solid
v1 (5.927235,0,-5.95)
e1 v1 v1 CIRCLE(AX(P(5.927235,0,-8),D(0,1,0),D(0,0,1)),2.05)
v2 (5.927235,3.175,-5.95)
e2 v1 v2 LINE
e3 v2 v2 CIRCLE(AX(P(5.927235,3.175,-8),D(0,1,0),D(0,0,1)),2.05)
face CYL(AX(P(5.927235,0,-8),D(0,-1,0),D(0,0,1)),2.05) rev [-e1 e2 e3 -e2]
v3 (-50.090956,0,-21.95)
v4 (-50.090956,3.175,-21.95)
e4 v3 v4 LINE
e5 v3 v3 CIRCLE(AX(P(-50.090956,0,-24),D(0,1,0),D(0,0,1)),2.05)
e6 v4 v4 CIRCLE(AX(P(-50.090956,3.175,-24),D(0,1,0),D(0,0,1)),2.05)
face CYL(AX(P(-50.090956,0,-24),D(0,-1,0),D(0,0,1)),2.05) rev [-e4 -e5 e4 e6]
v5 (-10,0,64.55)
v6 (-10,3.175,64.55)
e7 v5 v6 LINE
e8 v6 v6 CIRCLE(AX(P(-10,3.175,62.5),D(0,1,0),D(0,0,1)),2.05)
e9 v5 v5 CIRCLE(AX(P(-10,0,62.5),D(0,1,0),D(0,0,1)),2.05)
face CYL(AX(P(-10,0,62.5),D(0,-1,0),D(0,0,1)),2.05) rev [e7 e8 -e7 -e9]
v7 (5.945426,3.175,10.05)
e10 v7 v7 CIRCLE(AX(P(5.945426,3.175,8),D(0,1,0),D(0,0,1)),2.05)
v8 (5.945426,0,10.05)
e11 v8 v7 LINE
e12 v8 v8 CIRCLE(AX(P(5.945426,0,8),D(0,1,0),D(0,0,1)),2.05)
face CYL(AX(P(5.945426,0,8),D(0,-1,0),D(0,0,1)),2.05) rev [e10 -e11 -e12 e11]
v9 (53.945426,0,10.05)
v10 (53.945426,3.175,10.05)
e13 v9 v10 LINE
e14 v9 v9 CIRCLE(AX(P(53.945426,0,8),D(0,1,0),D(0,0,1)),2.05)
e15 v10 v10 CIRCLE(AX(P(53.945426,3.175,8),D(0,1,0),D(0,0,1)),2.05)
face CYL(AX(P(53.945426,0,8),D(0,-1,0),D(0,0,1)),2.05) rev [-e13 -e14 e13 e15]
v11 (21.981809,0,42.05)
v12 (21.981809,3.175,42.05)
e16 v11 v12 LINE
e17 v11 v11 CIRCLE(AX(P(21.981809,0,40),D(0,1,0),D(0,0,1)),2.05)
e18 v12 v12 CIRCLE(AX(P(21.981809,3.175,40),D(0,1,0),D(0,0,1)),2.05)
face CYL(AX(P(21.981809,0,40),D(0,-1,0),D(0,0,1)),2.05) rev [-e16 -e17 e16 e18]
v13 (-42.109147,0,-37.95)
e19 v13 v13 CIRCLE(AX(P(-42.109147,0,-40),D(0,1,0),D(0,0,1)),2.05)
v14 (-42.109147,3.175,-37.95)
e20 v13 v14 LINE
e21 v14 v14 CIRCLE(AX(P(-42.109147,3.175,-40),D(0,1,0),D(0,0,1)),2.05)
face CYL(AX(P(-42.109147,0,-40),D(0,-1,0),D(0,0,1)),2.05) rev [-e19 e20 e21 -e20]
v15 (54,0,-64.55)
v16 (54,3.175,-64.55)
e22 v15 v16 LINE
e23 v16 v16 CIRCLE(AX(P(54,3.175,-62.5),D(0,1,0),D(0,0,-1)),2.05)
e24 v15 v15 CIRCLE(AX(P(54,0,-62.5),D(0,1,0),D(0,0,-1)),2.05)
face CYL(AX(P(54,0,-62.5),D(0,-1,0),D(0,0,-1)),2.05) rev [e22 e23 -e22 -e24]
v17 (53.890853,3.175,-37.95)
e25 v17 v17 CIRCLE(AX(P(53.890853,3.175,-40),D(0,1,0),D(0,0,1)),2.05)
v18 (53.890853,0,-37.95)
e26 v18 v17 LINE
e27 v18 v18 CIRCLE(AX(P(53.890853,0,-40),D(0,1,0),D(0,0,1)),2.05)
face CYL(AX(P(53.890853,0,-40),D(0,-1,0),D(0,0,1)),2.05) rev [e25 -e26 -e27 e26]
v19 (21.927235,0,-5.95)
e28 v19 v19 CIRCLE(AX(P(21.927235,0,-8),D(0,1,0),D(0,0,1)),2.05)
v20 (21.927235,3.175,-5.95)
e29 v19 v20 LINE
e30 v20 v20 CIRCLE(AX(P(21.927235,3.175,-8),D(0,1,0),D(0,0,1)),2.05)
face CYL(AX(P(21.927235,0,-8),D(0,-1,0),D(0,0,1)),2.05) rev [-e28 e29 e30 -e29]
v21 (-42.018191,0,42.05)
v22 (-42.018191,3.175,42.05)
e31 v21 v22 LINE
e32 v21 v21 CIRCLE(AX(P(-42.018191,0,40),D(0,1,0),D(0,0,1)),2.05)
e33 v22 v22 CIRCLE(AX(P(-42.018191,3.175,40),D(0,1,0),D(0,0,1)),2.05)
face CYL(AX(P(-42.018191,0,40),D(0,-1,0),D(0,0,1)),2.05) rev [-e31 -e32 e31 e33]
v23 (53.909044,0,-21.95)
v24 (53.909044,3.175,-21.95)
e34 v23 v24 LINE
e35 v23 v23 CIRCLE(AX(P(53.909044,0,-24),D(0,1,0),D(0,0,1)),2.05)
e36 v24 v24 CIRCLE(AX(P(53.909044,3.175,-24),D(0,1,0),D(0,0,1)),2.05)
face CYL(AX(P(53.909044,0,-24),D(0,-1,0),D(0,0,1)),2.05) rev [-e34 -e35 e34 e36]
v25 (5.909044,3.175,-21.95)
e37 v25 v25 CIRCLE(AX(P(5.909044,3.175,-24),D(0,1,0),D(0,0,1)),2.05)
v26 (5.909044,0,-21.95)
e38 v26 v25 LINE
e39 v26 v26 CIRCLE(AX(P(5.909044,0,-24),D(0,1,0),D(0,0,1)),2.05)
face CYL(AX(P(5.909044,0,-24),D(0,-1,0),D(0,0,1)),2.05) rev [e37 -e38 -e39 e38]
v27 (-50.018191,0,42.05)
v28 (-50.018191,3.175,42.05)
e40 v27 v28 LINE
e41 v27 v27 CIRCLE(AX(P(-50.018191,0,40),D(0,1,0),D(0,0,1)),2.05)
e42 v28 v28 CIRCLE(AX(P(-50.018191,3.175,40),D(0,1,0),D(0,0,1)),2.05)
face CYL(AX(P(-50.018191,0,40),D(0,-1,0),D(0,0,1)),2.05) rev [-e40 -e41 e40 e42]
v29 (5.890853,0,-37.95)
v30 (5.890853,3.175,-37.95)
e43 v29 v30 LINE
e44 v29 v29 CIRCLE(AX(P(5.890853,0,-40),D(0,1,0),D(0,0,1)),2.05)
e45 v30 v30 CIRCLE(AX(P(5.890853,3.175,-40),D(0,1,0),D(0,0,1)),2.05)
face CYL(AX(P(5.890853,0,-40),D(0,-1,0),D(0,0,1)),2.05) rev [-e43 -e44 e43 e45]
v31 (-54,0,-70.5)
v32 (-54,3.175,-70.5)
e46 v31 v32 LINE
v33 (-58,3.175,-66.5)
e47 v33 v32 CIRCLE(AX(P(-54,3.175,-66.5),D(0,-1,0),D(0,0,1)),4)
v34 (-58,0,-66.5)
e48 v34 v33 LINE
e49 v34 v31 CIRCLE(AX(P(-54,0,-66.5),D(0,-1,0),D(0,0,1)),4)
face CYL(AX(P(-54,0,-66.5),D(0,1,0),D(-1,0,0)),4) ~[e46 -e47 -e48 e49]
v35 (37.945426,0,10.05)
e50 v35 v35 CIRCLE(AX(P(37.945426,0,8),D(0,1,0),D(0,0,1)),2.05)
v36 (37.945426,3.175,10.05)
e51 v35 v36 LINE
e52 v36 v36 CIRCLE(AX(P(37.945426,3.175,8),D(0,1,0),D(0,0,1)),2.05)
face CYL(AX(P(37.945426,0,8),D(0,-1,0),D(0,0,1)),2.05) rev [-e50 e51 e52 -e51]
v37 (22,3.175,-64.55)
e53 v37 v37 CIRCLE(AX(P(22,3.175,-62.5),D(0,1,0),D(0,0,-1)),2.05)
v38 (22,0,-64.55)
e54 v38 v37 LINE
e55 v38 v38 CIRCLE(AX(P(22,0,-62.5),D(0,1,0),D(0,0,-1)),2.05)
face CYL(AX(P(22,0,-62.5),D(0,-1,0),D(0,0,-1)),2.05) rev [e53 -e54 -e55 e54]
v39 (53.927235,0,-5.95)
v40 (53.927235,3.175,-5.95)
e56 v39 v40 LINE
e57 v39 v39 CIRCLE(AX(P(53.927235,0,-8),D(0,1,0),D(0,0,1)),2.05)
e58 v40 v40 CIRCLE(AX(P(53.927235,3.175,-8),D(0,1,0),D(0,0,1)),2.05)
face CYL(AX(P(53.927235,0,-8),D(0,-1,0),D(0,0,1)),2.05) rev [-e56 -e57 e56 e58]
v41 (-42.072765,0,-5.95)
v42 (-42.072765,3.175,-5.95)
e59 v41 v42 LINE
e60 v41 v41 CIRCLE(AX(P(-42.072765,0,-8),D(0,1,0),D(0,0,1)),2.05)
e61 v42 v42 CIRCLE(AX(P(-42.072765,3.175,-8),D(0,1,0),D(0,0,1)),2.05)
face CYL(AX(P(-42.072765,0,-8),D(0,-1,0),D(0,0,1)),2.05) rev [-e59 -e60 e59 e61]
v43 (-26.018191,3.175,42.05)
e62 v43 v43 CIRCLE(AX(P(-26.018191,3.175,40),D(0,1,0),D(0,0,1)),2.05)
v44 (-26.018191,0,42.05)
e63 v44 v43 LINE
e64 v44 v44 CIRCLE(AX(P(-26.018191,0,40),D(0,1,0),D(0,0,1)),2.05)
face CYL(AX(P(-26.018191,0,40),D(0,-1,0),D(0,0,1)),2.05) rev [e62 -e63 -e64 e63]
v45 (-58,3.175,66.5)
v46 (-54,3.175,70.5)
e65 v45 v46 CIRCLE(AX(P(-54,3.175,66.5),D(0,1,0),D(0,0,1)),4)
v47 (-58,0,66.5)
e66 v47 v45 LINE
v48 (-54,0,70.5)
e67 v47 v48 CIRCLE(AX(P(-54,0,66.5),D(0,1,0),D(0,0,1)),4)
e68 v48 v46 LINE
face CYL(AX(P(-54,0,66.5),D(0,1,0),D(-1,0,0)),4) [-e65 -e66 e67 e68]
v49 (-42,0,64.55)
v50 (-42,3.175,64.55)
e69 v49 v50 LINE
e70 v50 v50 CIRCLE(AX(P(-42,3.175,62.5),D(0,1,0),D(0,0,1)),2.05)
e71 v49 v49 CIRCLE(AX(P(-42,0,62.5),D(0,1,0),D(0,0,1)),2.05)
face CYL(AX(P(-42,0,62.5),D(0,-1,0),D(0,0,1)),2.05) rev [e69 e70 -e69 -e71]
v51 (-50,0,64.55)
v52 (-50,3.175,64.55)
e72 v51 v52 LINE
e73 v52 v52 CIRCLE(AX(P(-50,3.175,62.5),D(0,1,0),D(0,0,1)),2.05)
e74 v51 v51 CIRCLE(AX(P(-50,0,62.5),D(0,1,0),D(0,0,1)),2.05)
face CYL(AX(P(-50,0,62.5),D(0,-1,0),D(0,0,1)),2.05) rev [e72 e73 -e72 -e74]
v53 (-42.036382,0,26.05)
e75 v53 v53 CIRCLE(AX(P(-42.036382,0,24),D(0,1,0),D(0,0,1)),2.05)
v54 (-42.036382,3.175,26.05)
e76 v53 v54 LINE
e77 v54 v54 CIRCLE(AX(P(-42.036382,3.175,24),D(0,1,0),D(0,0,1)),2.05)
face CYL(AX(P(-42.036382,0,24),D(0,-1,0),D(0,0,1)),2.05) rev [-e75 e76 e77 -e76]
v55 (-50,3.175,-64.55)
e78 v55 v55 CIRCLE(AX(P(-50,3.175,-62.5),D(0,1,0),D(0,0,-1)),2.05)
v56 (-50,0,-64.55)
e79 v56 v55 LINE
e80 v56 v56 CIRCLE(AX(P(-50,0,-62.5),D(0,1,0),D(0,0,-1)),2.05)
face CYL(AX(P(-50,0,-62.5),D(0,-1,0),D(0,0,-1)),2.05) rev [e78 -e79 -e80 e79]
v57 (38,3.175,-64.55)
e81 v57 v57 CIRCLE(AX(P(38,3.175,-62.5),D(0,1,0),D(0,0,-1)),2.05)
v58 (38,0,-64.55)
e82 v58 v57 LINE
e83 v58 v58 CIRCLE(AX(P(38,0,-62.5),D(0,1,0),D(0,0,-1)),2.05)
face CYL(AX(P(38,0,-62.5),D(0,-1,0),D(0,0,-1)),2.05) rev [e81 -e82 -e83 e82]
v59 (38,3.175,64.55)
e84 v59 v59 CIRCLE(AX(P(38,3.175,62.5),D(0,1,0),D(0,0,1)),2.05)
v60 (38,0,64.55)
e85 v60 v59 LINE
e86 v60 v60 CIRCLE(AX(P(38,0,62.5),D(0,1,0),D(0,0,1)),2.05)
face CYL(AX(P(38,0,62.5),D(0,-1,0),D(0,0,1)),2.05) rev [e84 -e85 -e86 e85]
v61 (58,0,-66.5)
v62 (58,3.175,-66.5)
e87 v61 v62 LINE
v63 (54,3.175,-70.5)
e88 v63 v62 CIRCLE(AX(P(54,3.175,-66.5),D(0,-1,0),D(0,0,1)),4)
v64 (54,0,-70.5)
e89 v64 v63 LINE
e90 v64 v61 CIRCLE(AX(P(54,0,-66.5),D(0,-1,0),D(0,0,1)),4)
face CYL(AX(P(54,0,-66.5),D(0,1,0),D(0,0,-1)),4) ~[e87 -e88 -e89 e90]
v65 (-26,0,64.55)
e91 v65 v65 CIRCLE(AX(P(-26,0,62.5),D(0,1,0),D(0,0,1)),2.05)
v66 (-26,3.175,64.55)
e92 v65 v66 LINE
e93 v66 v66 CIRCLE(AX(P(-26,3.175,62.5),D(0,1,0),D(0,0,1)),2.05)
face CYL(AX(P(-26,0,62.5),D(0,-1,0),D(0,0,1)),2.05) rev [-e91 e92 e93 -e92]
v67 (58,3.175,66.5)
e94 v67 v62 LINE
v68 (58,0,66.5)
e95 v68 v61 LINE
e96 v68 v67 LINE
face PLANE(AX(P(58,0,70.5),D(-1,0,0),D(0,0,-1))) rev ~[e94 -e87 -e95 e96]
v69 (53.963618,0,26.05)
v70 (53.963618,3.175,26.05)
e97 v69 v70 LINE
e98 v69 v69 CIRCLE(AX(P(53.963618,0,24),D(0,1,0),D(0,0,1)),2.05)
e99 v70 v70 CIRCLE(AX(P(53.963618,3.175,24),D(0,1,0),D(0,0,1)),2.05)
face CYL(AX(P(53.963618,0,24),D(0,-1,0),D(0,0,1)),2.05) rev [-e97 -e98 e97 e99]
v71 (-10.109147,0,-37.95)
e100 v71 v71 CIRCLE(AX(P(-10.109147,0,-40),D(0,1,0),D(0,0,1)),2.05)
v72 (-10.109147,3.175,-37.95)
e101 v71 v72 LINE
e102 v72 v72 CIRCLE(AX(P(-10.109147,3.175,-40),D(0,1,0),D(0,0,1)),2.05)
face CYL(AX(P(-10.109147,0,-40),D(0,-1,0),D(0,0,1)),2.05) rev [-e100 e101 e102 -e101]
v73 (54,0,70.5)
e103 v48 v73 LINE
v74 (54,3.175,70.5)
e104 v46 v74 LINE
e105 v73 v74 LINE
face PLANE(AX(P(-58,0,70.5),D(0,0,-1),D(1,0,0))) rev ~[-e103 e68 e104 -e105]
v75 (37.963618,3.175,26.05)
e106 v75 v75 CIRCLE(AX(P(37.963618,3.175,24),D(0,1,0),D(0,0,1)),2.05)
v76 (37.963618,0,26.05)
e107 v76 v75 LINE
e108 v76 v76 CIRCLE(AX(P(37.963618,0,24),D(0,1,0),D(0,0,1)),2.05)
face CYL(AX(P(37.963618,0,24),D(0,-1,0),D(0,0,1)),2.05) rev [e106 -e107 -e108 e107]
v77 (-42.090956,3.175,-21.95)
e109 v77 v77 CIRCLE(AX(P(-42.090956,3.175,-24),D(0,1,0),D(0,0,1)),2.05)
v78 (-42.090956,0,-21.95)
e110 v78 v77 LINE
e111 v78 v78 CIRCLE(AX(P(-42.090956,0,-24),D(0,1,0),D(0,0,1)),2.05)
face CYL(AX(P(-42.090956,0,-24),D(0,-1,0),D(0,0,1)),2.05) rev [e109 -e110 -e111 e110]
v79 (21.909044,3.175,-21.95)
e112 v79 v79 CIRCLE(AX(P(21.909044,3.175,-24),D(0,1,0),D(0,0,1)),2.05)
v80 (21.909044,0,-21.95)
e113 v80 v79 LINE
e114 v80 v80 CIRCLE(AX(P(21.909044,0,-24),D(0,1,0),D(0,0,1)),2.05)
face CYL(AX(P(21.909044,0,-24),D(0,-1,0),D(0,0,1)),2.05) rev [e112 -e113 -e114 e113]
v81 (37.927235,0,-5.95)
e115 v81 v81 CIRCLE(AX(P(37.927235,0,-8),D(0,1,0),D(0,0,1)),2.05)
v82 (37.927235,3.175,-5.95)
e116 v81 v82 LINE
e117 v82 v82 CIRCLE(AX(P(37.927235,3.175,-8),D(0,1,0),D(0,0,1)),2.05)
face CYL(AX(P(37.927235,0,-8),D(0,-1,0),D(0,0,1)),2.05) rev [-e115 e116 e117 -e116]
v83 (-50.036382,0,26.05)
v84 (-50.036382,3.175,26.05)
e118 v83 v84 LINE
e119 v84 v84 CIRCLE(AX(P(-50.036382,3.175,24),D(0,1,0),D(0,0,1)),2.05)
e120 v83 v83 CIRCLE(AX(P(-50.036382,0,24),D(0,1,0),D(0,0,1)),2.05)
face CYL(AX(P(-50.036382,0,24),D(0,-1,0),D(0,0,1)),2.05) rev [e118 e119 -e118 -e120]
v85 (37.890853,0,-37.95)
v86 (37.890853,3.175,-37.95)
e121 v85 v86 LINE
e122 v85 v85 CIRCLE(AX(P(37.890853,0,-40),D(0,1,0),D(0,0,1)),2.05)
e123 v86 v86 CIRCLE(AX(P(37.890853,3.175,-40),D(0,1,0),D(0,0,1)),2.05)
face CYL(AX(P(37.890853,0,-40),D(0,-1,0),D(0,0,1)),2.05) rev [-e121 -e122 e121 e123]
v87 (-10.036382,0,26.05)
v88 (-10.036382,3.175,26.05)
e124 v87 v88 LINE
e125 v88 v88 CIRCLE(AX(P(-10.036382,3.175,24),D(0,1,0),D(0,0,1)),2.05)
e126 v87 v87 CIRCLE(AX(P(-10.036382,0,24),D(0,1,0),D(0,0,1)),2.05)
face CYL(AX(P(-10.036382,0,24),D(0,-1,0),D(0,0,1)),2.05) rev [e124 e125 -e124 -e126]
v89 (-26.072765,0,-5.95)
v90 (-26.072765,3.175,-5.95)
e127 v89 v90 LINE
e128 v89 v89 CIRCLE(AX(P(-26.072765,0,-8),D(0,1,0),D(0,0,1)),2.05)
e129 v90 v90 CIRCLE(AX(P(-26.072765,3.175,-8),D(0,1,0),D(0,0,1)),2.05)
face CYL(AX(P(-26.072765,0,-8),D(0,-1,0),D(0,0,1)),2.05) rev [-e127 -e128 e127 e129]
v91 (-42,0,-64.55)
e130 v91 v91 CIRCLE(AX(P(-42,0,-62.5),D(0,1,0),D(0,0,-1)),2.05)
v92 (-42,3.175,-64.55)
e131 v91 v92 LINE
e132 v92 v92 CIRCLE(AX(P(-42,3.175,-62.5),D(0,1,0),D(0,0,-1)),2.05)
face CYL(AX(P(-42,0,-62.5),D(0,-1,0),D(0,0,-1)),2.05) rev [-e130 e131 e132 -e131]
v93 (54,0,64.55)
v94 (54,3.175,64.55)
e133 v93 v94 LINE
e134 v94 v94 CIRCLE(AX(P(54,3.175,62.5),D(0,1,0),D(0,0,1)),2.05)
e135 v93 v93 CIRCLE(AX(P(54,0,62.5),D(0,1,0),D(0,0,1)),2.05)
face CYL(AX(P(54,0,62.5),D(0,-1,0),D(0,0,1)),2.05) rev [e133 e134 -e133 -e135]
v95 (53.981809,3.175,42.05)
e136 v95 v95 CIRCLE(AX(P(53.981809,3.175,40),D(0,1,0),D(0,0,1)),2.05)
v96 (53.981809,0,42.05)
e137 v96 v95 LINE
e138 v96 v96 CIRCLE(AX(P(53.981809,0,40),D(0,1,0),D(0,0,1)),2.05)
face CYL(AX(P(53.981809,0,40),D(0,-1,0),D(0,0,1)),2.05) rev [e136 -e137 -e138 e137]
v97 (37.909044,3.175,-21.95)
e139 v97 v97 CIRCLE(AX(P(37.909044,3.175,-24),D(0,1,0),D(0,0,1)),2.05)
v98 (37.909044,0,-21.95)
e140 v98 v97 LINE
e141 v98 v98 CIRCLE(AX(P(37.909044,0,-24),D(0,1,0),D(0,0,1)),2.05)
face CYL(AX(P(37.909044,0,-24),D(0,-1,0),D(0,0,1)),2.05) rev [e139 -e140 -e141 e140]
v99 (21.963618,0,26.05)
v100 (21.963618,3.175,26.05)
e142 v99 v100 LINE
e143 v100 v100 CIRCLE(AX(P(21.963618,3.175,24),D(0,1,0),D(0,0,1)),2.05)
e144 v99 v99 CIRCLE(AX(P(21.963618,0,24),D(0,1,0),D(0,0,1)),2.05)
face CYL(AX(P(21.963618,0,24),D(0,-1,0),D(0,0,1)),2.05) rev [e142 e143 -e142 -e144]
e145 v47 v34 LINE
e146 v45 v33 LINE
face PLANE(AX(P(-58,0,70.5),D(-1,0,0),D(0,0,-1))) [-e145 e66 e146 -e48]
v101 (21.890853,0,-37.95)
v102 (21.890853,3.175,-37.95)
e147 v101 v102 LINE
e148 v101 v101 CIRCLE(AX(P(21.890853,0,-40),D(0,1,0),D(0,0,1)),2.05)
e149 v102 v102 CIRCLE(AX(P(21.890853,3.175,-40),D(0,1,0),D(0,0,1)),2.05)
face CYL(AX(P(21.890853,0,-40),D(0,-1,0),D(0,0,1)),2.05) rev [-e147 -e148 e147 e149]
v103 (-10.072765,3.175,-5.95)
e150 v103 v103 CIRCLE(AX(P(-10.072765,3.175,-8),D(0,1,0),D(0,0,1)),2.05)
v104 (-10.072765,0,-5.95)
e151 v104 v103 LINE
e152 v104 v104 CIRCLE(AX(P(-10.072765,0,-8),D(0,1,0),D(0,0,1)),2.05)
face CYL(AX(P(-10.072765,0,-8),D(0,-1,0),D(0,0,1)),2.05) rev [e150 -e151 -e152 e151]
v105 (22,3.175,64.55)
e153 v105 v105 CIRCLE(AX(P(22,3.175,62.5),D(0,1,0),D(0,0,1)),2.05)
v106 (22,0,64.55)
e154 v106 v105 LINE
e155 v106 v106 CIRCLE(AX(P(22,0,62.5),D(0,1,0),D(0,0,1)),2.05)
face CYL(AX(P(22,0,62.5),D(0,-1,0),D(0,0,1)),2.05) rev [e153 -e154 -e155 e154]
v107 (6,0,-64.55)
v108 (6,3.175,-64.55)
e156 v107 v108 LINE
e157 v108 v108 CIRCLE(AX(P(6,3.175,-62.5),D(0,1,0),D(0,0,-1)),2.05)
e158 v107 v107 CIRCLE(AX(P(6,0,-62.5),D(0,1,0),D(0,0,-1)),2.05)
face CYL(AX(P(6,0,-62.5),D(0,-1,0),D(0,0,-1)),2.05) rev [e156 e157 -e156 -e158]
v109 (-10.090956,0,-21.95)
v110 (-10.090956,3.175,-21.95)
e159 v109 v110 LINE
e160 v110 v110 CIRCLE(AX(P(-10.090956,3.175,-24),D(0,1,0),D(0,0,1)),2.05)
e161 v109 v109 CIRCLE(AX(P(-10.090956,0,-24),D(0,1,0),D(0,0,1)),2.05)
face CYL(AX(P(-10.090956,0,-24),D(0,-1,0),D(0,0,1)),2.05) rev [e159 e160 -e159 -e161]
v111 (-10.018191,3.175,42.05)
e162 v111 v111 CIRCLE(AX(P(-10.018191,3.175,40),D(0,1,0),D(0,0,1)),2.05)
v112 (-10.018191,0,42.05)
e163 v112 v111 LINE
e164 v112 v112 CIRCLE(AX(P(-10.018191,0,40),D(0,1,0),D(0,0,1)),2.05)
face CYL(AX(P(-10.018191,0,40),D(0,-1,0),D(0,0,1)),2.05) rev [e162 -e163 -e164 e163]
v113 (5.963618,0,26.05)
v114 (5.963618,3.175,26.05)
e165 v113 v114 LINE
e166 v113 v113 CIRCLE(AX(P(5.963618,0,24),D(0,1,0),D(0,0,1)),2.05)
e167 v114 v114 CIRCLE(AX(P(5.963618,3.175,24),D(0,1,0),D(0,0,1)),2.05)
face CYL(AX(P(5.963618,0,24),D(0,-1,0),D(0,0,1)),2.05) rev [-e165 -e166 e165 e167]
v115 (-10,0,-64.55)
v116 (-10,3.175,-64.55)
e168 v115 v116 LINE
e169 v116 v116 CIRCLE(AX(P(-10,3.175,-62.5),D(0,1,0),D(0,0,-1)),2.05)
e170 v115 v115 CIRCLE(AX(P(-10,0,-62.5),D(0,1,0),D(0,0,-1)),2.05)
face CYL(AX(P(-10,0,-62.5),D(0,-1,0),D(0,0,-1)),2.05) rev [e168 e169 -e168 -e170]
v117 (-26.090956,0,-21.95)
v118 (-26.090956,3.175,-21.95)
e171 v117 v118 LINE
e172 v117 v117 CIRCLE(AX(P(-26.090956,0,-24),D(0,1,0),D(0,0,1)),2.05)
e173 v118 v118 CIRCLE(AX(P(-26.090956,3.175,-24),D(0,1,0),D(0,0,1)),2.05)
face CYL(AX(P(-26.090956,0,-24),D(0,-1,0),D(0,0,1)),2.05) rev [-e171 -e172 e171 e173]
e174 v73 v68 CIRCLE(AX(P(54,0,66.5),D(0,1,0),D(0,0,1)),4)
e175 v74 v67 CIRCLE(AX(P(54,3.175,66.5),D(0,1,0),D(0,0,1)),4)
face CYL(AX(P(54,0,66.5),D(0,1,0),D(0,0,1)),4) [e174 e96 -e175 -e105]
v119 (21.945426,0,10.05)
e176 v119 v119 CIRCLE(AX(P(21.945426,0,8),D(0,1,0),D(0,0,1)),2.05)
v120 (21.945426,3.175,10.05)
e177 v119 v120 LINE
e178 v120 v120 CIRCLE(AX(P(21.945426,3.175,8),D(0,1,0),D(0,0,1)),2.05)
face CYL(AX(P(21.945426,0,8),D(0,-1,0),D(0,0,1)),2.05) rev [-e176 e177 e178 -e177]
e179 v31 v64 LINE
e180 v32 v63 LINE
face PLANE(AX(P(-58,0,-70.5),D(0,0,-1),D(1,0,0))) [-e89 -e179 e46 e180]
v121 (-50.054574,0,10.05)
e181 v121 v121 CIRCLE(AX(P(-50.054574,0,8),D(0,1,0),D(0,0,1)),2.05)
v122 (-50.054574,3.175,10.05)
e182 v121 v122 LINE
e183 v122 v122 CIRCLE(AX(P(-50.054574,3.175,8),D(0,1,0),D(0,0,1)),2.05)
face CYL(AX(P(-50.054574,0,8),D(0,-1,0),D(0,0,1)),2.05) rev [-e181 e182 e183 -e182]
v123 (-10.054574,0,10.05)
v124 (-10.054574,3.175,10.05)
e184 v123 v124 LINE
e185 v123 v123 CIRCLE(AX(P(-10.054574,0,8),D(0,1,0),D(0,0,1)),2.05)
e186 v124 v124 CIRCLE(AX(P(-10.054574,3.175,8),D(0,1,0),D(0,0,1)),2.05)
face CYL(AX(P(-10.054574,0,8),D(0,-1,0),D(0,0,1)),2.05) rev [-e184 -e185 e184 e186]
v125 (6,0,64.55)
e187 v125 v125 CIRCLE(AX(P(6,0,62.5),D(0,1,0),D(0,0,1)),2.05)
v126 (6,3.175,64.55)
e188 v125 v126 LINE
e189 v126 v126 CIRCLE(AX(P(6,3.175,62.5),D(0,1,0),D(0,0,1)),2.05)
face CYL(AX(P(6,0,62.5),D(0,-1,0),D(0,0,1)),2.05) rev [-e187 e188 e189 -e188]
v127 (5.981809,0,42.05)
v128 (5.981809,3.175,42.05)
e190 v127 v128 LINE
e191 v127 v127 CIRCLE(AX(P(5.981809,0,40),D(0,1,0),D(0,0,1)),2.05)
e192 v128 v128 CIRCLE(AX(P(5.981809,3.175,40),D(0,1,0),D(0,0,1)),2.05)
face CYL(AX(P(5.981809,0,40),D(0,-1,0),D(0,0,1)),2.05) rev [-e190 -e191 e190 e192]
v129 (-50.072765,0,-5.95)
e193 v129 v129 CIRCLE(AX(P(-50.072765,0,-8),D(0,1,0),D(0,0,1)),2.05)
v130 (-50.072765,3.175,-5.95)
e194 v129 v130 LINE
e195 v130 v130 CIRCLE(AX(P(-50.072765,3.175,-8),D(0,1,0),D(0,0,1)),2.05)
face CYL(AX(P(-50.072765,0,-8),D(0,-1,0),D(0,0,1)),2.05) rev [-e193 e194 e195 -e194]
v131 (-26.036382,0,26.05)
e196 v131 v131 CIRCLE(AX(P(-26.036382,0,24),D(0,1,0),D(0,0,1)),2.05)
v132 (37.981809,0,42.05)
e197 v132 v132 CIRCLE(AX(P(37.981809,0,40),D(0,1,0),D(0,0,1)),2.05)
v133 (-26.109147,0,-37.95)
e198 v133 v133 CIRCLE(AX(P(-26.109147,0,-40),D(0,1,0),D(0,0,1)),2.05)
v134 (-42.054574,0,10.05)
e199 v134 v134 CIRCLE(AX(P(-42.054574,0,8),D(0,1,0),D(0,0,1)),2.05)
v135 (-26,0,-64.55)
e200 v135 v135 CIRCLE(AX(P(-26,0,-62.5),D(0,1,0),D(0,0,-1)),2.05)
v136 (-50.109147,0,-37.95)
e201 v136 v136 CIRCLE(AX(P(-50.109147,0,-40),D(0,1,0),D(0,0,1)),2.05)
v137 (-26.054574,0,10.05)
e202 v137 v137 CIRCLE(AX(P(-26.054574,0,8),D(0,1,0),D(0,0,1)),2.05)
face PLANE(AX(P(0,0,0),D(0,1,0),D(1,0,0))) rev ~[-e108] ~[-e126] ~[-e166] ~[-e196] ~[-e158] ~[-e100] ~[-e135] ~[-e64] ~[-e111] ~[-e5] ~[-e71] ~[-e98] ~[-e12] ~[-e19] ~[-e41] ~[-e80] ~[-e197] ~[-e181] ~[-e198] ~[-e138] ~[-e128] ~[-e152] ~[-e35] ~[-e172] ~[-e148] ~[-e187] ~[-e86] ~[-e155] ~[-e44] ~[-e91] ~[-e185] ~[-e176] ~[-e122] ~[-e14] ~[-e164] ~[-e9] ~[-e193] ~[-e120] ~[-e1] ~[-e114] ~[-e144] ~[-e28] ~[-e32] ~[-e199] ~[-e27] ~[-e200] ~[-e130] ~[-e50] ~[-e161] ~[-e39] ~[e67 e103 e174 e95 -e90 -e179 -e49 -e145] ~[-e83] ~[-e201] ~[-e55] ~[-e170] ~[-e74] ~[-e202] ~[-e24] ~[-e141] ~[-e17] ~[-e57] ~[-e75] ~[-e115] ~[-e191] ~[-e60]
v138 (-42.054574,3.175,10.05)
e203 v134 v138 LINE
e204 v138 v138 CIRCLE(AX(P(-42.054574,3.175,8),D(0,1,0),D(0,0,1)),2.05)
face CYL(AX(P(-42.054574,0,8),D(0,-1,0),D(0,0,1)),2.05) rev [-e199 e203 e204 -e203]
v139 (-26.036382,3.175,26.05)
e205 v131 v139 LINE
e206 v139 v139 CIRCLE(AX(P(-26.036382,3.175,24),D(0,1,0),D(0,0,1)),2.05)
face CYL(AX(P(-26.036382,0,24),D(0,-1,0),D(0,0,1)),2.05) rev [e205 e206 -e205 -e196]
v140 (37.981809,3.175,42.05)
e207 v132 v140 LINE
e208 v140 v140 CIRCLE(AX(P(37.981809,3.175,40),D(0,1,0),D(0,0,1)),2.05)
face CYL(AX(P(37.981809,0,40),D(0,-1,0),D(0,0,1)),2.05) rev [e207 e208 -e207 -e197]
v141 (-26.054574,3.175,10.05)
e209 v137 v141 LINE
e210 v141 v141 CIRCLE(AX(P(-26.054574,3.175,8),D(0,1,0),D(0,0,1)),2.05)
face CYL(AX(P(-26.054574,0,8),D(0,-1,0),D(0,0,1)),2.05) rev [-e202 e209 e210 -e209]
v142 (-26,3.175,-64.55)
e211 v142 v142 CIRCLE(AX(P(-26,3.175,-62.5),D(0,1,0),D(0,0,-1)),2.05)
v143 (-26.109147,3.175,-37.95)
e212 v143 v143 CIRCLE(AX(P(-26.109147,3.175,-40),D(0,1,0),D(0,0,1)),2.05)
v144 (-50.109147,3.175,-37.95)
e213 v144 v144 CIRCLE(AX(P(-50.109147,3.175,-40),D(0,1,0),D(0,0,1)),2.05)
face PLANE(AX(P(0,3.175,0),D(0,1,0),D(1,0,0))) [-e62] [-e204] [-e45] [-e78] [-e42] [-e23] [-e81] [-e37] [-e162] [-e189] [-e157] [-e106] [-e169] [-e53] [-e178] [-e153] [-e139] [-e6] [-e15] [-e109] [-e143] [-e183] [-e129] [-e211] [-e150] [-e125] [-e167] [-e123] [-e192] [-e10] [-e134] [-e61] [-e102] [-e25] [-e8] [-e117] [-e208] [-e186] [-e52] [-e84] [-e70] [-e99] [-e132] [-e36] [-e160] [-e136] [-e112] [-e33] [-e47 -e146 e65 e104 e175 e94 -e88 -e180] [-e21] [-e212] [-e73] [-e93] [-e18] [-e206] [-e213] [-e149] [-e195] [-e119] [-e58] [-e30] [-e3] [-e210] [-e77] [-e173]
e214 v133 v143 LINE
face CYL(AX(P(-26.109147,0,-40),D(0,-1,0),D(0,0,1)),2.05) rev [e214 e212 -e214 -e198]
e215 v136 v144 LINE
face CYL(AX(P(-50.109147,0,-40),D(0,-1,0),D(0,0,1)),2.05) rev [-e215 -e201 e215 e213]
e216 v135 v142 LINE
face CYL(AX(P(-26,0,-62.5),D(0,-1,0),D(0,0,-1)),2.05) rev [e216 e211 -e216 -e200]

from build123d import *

# Parameters (mm, degrees)
SKETCH1_W           = 116
SKETCH1_H           = 141
SKETCH1_R           = 2.05
BOSS_EXTRUDE1_DEPTH = 3.175
FILLET1_R           = 4


with BuildPart() as part:
    # Sketch1 → Boss-Extrude1 (new body)
    with BuildSketch(Plane(origin=(0, 0, 0), x_dir=(1, 0, 0), z_dir=(0, 1, 0))):
        Rectangle(SKETCH1_W, SKETCH1_H)
        with Locations(Location((54, -62.5, 0), (0, 0, 270))):
            Circle(SKETCH1_R, mode=Mode.SUBTRACT)
        with Locations(Location((38, -62.5, 0), (0, 0, 270))):
            Circle(SKETCH1_R, mode=Mode.SUBTRACT)
        with Locations(Location((22, -62.5, 0), (0, 0, 270))):
            Circle(SKETCH1_R, mode=Mode.SUBTRACT)
        with Locations(Location((6, -62.5, 0), (0, 0, 270))):
            Circle(SKETCH1_R, mode=Mode.SUBTRACT)
        with Locations(Location((-10, -62.5, 0), (0, 0, 270))):
            Circle(SKETCH1_R, mode=Mode.SUBTRACT)
        with Locations(Location((-26, -62.5, 0), (0, 0, 270))):
            Circle(SKETCH1_R, mode=Mode.SUBTRACT)
        with Locations(Location((-42, -62.5, 0), (0, 0, 270))):
            Circle(SKETCH1_R, mode=Mode.SUBTRACT)
        with Locations(Location((-42, 62.5, 0), (0, 0, 90))):
            Circle(SKETCH1_R, mode=Mode.SUBTRACT)
        with Locations(Location((-26, 62.5, 0), (0, 0, 90))):
            Circle(SKETCH1_R, mode=Mode.SUBTRACT)
        with Locations(Location((-10, 62.5, 0), (0, 0, 90))):
            Circle(SKETCH1_R, mode=Mode.SUBTRACT)
        with Locations(Location((6, 62.5, 0), (0, 0, 90))):
            Circle(SKETCH1_R, mode=Mode.SUBTRACT)
        with Locations(Location((22, 62.5, 0), (0, 0, 90))):
            Circle(SKETCH1_R, mode=Mode.SUBTRACT)
        with Locations(Location((38, 62.5, 0), (0, 0, 90))):
            Circle(SKETCH1_R, mode=Mode.SUBTRACT)
        with Locations(Location((54, 62.5, 0), (0, 0, 90))):
            Circle(SKETCH1_R, mode=Mode.SUBTRACT)
        with Locations(Location((-26.018191243, -40, 0), (0, 0, 270))):
            Circle(SKETCH1_R, mode=Mode.SUBTRACT)
        with Locations(Location((-10.018191243, -40, 0), (0, 0, 270))):
            Circle(SKETCH1_R, mode=Mode.SUBTRACT)
        with Locations(Location((5.981808757, -40, 0), (0, 0, 270))):
            Circle(SKETCH1_R, mode=Mode.SUBTRACT)
        with Locations(Location((21.981808757, -40, 0), (0, 0, 270))):
            Circle(SKETCH1_R, mode=Mode.SUBTRACT)
        with Locations(Location((37.981808757, -40, 0), (0, 0, 270))):
            Circle(SKETCH1_R, mode=Mode.SUBTRACT)
        with Locations(Location((53.981808757, -40, 0), (0, 0, 270))):
            Circle(SKETCH1_R, mode=Mode.SUBTRACT)
        with Locations(Location((-26.036382485, -24, 0), (0, 0, 270))):
            Circle(SKETCH1_R, mode=Mode.SUBTRACT)
        with Locations(Location((-10.036382485, -24, 0), (0, 0, 270))):
            Circle(SKETCH1_R, mode=Mode.SUBTRACT)
        with Locations(Location((5.963617515, -24, 0), (0, 0, 270))):
            Circle(SKETCH1_R, mode=Mode.SUBTRACT)
        with Locations(Location((21.963617515, -24, 0), (0, 0, 270))):
            Circle(SKETCH1_R, mode=Mode.SUBTRACT)
        with Locations(Location((37.963617515, -24, 0), (0, 0, 270))):
            Circle(SKETCH1_R, mode=Mode.SUBTRACT)
        with Locations(Location((53.963617515, -24, 0), (0, 0, 270))):
            Circle(SKETCH1_R, mode=Mode.SUBTRACT)
        with Locations(Location((-26.054573728, -8, 0), (0, 0, 270))):
            Circle(SKETCH1_R, mode=Mode.SUBTRACT)
        with Locations(Location((-10.054573728, -8, 0), (0, 0, 270))):
            Circle(SKETCH1_R, mode=Mode.SUBTRACT)
        with Locations(Location((5.945426272, -8, 0), (0, 0, 270))):
            Circle(SKETCH1_R, mode=Mode.SUBTRACT)
        with Locations(Location((21.945426272, -8, 0), (0, 0, 270))):
            Circle(SKETCH1_R, mode=Mode.SUBTRACT)
        with Locations(Location((37.945426272, -8, 0), (0, 0, 270))):
            Circle(SKETCH1_R, mode=Mode.SUBTRACT)
        with Locations(Location((53.945426272, -8, 0), (0, 0, 270))):
            Circle(SKETCH1_R, mode=Mode.SUBTRACT)
        with Locations(Location((-26.072764971, 8, 0), (0, 0, 270))):
            Circle(SKETCH1_R, mode=Mode.SUBTRACT)
        with Locations(Location((-10.072764971, 8, 0), (0, 0, 270))):
            Circle(SKETCH1_R, mode=Mode.SUBTRACT)
        with Locations(Location((5.927235029, 8, 0), (0, 0, 270))):
            Circle(SKETCH1_R, mode=Mode.SUBTRACT)
        with Locations(Location((21.927235029, 8, 0), (0, 0, 270))):
            Circle(SKETCH1_R, mode=Mode.SUBTRACT)
        with Locations(Location((37.927235029, 8, 0), (0, 0, 270))):
            Circle(SKETCH1_R, mode=Mode.SUBTRACT)
        with Locations(Location((53.927235029, 8, 0), (0, 0, 270))):
            Circle(SKETCH1_R, mode=Mode.SUBTRACT)
        with Locations(Location((-26.090956213, 24, 0), (0, 0, 270))):
            Circle(SKETCH1_R, mode=Mode.SUBTRACT)
        with Locations(Location((-10.090956213, 24, 0), (0, 0, 270))):
            Circle(SKETCH1_R, mode=Mode.SUBTRACT)
        with Locations(Location((5.909043787, 24, 0), (0, 0, 270))):
            Circle(SKETCH1_R, mode=Mode.SUBTRACT)
        with Locations(Location((21.909043787, 24, 0), (0, 0, 270))):
            Circle(SKETCH1_R, mode=Mode.SUBTRACT)
        with Locations(Location((37.909043787, 24, 0), (0, 0, 270))):
            Circle(SKETCH1_R, mode=Mode.SUBTRACT)
        with Locations(Location((53.909043787, 24, 0), (0, 0, 270))):
            Circle(SKETCH1_R, mode=Mode.SUBTRACT)
        with Locations(Location((-26.109147456, 40, 0), (0, 0, 270))):
            Circle(SKETCH1_R, mode=Mode.SUBTRACT)
        with Locations(Location((-10.109147456, 40, 0), (0, 0, 270))):
            Circle(SKETCH1_R, mode=Mode.SUBTRACT)
        with Locations(Location((5.890852544, 40, 0), (0, 0, 270))):
            Circle(SKETCH1_R, mode=Mode.SUBTRACT)
        with Locations(Location((21.890852544, 40, 0), (0, 0, 270))):
            Circle(SKETCH1_R, mode=Mode.SUBTRACT)
        with Locations(Location((37.890852544, 40, 0), (0, 0, 270))):
            Circle(SKETCH1_R, mode=Mode.SUBTRACT)
        with Locations(Location((53.890852544, 40, 0), (0, 0, 270))):
            Circle(SKETCH1_R, mode=Mode.SUBTRACT)
        with Locations(Location((-42.018191243, -40, 0), (0, 0, 270))):
            Circle(SKETCH1_R, mode=Mode.SUBTRACT)
        with Locations(Location((-42.036382485, -24, 0), (0, 0, 270))):
            Circle(SKETCH1_R, mode=Mode.SUBTRACT)
        with Locations(Location((-42.054573728, -8, 0), (0, 0, 270))):
            Circle(SKETCH1_R, mode=Mode.SUBTRACT)
        with Locations(Location((-42.072764971, 8, 0), (0, 0, 270))):
            Circle(SKETCH1_R, mode=Mode.SUBTRACT)
        with Locations(Location((-42.090956213, 24, 0), (0, 0, 270))):
            Circle(SKETCH1_R, mode=Mode.SUBTRACT)
        with Locations(Location((-42.109147456, 40, 0), (0, 0, 270))):
            Circle(SKETCH1_R, mode=Mode.SUBTRACT)
        with Locations(Location((-50, -62.5, 0), (0, 0, 270))):
            Circle(SKETCH1_R, mode=Mode.SUBTRACT)
        with Locations(Location((-50.018191243, -40, 0), (0, 0, 270))):
            Circle(SKETCH1_R, mode=Mode.SUBTRACT)
        with Locations(Location((-50.036382485, -24, 0), (0, 0, 270))):
            Circle(SKETCH1_R, mode=Mode.SUBTRACT)
        with Locations(Location((-50.054573728, -8, 0), (0, 0, 270))):
            Circle(SKETCH1_R, mode=Mode.SUBTRACT)
        with Locations(Location((-50.072764971, 8, 0), (0, 0, 270))):
            Circle(SKETCH1_R, mode=Mode.SUBTRACT)
        with Locations(Location((-50.090956213, 24, 0), (0, 0, 270))):
            Circle(SKETCH1_R, mode=Mode.SUBTRACT)
        with Locations(Location((-50, 62.5, 0), (0, 0, 90))):
            Circle(SKETCH1_R, mode=Mode.SUBTRACT)
        with Locations(Location((-50.109147456, 40, 0), (0, 0, 270))):
            Circle(SKETCH1_R, mode=Mode.SUBTRACT)
    extrude(amount=BOSS_EXTRUDE1_DEPTH)

    # Fillet1
    fillet1_edges = [part.edges().sort_by_distance(p)[0] for p in [
        (58, 1.5875, 70.5),
        (-58, 1.5875, 70.5),
        (-58, 1.5875, -70.5),
        (58, 1.5875, -70.5),
    ]]
    fillet(fillet1_edges, radius=FILLET1_R)


solid = part.part
